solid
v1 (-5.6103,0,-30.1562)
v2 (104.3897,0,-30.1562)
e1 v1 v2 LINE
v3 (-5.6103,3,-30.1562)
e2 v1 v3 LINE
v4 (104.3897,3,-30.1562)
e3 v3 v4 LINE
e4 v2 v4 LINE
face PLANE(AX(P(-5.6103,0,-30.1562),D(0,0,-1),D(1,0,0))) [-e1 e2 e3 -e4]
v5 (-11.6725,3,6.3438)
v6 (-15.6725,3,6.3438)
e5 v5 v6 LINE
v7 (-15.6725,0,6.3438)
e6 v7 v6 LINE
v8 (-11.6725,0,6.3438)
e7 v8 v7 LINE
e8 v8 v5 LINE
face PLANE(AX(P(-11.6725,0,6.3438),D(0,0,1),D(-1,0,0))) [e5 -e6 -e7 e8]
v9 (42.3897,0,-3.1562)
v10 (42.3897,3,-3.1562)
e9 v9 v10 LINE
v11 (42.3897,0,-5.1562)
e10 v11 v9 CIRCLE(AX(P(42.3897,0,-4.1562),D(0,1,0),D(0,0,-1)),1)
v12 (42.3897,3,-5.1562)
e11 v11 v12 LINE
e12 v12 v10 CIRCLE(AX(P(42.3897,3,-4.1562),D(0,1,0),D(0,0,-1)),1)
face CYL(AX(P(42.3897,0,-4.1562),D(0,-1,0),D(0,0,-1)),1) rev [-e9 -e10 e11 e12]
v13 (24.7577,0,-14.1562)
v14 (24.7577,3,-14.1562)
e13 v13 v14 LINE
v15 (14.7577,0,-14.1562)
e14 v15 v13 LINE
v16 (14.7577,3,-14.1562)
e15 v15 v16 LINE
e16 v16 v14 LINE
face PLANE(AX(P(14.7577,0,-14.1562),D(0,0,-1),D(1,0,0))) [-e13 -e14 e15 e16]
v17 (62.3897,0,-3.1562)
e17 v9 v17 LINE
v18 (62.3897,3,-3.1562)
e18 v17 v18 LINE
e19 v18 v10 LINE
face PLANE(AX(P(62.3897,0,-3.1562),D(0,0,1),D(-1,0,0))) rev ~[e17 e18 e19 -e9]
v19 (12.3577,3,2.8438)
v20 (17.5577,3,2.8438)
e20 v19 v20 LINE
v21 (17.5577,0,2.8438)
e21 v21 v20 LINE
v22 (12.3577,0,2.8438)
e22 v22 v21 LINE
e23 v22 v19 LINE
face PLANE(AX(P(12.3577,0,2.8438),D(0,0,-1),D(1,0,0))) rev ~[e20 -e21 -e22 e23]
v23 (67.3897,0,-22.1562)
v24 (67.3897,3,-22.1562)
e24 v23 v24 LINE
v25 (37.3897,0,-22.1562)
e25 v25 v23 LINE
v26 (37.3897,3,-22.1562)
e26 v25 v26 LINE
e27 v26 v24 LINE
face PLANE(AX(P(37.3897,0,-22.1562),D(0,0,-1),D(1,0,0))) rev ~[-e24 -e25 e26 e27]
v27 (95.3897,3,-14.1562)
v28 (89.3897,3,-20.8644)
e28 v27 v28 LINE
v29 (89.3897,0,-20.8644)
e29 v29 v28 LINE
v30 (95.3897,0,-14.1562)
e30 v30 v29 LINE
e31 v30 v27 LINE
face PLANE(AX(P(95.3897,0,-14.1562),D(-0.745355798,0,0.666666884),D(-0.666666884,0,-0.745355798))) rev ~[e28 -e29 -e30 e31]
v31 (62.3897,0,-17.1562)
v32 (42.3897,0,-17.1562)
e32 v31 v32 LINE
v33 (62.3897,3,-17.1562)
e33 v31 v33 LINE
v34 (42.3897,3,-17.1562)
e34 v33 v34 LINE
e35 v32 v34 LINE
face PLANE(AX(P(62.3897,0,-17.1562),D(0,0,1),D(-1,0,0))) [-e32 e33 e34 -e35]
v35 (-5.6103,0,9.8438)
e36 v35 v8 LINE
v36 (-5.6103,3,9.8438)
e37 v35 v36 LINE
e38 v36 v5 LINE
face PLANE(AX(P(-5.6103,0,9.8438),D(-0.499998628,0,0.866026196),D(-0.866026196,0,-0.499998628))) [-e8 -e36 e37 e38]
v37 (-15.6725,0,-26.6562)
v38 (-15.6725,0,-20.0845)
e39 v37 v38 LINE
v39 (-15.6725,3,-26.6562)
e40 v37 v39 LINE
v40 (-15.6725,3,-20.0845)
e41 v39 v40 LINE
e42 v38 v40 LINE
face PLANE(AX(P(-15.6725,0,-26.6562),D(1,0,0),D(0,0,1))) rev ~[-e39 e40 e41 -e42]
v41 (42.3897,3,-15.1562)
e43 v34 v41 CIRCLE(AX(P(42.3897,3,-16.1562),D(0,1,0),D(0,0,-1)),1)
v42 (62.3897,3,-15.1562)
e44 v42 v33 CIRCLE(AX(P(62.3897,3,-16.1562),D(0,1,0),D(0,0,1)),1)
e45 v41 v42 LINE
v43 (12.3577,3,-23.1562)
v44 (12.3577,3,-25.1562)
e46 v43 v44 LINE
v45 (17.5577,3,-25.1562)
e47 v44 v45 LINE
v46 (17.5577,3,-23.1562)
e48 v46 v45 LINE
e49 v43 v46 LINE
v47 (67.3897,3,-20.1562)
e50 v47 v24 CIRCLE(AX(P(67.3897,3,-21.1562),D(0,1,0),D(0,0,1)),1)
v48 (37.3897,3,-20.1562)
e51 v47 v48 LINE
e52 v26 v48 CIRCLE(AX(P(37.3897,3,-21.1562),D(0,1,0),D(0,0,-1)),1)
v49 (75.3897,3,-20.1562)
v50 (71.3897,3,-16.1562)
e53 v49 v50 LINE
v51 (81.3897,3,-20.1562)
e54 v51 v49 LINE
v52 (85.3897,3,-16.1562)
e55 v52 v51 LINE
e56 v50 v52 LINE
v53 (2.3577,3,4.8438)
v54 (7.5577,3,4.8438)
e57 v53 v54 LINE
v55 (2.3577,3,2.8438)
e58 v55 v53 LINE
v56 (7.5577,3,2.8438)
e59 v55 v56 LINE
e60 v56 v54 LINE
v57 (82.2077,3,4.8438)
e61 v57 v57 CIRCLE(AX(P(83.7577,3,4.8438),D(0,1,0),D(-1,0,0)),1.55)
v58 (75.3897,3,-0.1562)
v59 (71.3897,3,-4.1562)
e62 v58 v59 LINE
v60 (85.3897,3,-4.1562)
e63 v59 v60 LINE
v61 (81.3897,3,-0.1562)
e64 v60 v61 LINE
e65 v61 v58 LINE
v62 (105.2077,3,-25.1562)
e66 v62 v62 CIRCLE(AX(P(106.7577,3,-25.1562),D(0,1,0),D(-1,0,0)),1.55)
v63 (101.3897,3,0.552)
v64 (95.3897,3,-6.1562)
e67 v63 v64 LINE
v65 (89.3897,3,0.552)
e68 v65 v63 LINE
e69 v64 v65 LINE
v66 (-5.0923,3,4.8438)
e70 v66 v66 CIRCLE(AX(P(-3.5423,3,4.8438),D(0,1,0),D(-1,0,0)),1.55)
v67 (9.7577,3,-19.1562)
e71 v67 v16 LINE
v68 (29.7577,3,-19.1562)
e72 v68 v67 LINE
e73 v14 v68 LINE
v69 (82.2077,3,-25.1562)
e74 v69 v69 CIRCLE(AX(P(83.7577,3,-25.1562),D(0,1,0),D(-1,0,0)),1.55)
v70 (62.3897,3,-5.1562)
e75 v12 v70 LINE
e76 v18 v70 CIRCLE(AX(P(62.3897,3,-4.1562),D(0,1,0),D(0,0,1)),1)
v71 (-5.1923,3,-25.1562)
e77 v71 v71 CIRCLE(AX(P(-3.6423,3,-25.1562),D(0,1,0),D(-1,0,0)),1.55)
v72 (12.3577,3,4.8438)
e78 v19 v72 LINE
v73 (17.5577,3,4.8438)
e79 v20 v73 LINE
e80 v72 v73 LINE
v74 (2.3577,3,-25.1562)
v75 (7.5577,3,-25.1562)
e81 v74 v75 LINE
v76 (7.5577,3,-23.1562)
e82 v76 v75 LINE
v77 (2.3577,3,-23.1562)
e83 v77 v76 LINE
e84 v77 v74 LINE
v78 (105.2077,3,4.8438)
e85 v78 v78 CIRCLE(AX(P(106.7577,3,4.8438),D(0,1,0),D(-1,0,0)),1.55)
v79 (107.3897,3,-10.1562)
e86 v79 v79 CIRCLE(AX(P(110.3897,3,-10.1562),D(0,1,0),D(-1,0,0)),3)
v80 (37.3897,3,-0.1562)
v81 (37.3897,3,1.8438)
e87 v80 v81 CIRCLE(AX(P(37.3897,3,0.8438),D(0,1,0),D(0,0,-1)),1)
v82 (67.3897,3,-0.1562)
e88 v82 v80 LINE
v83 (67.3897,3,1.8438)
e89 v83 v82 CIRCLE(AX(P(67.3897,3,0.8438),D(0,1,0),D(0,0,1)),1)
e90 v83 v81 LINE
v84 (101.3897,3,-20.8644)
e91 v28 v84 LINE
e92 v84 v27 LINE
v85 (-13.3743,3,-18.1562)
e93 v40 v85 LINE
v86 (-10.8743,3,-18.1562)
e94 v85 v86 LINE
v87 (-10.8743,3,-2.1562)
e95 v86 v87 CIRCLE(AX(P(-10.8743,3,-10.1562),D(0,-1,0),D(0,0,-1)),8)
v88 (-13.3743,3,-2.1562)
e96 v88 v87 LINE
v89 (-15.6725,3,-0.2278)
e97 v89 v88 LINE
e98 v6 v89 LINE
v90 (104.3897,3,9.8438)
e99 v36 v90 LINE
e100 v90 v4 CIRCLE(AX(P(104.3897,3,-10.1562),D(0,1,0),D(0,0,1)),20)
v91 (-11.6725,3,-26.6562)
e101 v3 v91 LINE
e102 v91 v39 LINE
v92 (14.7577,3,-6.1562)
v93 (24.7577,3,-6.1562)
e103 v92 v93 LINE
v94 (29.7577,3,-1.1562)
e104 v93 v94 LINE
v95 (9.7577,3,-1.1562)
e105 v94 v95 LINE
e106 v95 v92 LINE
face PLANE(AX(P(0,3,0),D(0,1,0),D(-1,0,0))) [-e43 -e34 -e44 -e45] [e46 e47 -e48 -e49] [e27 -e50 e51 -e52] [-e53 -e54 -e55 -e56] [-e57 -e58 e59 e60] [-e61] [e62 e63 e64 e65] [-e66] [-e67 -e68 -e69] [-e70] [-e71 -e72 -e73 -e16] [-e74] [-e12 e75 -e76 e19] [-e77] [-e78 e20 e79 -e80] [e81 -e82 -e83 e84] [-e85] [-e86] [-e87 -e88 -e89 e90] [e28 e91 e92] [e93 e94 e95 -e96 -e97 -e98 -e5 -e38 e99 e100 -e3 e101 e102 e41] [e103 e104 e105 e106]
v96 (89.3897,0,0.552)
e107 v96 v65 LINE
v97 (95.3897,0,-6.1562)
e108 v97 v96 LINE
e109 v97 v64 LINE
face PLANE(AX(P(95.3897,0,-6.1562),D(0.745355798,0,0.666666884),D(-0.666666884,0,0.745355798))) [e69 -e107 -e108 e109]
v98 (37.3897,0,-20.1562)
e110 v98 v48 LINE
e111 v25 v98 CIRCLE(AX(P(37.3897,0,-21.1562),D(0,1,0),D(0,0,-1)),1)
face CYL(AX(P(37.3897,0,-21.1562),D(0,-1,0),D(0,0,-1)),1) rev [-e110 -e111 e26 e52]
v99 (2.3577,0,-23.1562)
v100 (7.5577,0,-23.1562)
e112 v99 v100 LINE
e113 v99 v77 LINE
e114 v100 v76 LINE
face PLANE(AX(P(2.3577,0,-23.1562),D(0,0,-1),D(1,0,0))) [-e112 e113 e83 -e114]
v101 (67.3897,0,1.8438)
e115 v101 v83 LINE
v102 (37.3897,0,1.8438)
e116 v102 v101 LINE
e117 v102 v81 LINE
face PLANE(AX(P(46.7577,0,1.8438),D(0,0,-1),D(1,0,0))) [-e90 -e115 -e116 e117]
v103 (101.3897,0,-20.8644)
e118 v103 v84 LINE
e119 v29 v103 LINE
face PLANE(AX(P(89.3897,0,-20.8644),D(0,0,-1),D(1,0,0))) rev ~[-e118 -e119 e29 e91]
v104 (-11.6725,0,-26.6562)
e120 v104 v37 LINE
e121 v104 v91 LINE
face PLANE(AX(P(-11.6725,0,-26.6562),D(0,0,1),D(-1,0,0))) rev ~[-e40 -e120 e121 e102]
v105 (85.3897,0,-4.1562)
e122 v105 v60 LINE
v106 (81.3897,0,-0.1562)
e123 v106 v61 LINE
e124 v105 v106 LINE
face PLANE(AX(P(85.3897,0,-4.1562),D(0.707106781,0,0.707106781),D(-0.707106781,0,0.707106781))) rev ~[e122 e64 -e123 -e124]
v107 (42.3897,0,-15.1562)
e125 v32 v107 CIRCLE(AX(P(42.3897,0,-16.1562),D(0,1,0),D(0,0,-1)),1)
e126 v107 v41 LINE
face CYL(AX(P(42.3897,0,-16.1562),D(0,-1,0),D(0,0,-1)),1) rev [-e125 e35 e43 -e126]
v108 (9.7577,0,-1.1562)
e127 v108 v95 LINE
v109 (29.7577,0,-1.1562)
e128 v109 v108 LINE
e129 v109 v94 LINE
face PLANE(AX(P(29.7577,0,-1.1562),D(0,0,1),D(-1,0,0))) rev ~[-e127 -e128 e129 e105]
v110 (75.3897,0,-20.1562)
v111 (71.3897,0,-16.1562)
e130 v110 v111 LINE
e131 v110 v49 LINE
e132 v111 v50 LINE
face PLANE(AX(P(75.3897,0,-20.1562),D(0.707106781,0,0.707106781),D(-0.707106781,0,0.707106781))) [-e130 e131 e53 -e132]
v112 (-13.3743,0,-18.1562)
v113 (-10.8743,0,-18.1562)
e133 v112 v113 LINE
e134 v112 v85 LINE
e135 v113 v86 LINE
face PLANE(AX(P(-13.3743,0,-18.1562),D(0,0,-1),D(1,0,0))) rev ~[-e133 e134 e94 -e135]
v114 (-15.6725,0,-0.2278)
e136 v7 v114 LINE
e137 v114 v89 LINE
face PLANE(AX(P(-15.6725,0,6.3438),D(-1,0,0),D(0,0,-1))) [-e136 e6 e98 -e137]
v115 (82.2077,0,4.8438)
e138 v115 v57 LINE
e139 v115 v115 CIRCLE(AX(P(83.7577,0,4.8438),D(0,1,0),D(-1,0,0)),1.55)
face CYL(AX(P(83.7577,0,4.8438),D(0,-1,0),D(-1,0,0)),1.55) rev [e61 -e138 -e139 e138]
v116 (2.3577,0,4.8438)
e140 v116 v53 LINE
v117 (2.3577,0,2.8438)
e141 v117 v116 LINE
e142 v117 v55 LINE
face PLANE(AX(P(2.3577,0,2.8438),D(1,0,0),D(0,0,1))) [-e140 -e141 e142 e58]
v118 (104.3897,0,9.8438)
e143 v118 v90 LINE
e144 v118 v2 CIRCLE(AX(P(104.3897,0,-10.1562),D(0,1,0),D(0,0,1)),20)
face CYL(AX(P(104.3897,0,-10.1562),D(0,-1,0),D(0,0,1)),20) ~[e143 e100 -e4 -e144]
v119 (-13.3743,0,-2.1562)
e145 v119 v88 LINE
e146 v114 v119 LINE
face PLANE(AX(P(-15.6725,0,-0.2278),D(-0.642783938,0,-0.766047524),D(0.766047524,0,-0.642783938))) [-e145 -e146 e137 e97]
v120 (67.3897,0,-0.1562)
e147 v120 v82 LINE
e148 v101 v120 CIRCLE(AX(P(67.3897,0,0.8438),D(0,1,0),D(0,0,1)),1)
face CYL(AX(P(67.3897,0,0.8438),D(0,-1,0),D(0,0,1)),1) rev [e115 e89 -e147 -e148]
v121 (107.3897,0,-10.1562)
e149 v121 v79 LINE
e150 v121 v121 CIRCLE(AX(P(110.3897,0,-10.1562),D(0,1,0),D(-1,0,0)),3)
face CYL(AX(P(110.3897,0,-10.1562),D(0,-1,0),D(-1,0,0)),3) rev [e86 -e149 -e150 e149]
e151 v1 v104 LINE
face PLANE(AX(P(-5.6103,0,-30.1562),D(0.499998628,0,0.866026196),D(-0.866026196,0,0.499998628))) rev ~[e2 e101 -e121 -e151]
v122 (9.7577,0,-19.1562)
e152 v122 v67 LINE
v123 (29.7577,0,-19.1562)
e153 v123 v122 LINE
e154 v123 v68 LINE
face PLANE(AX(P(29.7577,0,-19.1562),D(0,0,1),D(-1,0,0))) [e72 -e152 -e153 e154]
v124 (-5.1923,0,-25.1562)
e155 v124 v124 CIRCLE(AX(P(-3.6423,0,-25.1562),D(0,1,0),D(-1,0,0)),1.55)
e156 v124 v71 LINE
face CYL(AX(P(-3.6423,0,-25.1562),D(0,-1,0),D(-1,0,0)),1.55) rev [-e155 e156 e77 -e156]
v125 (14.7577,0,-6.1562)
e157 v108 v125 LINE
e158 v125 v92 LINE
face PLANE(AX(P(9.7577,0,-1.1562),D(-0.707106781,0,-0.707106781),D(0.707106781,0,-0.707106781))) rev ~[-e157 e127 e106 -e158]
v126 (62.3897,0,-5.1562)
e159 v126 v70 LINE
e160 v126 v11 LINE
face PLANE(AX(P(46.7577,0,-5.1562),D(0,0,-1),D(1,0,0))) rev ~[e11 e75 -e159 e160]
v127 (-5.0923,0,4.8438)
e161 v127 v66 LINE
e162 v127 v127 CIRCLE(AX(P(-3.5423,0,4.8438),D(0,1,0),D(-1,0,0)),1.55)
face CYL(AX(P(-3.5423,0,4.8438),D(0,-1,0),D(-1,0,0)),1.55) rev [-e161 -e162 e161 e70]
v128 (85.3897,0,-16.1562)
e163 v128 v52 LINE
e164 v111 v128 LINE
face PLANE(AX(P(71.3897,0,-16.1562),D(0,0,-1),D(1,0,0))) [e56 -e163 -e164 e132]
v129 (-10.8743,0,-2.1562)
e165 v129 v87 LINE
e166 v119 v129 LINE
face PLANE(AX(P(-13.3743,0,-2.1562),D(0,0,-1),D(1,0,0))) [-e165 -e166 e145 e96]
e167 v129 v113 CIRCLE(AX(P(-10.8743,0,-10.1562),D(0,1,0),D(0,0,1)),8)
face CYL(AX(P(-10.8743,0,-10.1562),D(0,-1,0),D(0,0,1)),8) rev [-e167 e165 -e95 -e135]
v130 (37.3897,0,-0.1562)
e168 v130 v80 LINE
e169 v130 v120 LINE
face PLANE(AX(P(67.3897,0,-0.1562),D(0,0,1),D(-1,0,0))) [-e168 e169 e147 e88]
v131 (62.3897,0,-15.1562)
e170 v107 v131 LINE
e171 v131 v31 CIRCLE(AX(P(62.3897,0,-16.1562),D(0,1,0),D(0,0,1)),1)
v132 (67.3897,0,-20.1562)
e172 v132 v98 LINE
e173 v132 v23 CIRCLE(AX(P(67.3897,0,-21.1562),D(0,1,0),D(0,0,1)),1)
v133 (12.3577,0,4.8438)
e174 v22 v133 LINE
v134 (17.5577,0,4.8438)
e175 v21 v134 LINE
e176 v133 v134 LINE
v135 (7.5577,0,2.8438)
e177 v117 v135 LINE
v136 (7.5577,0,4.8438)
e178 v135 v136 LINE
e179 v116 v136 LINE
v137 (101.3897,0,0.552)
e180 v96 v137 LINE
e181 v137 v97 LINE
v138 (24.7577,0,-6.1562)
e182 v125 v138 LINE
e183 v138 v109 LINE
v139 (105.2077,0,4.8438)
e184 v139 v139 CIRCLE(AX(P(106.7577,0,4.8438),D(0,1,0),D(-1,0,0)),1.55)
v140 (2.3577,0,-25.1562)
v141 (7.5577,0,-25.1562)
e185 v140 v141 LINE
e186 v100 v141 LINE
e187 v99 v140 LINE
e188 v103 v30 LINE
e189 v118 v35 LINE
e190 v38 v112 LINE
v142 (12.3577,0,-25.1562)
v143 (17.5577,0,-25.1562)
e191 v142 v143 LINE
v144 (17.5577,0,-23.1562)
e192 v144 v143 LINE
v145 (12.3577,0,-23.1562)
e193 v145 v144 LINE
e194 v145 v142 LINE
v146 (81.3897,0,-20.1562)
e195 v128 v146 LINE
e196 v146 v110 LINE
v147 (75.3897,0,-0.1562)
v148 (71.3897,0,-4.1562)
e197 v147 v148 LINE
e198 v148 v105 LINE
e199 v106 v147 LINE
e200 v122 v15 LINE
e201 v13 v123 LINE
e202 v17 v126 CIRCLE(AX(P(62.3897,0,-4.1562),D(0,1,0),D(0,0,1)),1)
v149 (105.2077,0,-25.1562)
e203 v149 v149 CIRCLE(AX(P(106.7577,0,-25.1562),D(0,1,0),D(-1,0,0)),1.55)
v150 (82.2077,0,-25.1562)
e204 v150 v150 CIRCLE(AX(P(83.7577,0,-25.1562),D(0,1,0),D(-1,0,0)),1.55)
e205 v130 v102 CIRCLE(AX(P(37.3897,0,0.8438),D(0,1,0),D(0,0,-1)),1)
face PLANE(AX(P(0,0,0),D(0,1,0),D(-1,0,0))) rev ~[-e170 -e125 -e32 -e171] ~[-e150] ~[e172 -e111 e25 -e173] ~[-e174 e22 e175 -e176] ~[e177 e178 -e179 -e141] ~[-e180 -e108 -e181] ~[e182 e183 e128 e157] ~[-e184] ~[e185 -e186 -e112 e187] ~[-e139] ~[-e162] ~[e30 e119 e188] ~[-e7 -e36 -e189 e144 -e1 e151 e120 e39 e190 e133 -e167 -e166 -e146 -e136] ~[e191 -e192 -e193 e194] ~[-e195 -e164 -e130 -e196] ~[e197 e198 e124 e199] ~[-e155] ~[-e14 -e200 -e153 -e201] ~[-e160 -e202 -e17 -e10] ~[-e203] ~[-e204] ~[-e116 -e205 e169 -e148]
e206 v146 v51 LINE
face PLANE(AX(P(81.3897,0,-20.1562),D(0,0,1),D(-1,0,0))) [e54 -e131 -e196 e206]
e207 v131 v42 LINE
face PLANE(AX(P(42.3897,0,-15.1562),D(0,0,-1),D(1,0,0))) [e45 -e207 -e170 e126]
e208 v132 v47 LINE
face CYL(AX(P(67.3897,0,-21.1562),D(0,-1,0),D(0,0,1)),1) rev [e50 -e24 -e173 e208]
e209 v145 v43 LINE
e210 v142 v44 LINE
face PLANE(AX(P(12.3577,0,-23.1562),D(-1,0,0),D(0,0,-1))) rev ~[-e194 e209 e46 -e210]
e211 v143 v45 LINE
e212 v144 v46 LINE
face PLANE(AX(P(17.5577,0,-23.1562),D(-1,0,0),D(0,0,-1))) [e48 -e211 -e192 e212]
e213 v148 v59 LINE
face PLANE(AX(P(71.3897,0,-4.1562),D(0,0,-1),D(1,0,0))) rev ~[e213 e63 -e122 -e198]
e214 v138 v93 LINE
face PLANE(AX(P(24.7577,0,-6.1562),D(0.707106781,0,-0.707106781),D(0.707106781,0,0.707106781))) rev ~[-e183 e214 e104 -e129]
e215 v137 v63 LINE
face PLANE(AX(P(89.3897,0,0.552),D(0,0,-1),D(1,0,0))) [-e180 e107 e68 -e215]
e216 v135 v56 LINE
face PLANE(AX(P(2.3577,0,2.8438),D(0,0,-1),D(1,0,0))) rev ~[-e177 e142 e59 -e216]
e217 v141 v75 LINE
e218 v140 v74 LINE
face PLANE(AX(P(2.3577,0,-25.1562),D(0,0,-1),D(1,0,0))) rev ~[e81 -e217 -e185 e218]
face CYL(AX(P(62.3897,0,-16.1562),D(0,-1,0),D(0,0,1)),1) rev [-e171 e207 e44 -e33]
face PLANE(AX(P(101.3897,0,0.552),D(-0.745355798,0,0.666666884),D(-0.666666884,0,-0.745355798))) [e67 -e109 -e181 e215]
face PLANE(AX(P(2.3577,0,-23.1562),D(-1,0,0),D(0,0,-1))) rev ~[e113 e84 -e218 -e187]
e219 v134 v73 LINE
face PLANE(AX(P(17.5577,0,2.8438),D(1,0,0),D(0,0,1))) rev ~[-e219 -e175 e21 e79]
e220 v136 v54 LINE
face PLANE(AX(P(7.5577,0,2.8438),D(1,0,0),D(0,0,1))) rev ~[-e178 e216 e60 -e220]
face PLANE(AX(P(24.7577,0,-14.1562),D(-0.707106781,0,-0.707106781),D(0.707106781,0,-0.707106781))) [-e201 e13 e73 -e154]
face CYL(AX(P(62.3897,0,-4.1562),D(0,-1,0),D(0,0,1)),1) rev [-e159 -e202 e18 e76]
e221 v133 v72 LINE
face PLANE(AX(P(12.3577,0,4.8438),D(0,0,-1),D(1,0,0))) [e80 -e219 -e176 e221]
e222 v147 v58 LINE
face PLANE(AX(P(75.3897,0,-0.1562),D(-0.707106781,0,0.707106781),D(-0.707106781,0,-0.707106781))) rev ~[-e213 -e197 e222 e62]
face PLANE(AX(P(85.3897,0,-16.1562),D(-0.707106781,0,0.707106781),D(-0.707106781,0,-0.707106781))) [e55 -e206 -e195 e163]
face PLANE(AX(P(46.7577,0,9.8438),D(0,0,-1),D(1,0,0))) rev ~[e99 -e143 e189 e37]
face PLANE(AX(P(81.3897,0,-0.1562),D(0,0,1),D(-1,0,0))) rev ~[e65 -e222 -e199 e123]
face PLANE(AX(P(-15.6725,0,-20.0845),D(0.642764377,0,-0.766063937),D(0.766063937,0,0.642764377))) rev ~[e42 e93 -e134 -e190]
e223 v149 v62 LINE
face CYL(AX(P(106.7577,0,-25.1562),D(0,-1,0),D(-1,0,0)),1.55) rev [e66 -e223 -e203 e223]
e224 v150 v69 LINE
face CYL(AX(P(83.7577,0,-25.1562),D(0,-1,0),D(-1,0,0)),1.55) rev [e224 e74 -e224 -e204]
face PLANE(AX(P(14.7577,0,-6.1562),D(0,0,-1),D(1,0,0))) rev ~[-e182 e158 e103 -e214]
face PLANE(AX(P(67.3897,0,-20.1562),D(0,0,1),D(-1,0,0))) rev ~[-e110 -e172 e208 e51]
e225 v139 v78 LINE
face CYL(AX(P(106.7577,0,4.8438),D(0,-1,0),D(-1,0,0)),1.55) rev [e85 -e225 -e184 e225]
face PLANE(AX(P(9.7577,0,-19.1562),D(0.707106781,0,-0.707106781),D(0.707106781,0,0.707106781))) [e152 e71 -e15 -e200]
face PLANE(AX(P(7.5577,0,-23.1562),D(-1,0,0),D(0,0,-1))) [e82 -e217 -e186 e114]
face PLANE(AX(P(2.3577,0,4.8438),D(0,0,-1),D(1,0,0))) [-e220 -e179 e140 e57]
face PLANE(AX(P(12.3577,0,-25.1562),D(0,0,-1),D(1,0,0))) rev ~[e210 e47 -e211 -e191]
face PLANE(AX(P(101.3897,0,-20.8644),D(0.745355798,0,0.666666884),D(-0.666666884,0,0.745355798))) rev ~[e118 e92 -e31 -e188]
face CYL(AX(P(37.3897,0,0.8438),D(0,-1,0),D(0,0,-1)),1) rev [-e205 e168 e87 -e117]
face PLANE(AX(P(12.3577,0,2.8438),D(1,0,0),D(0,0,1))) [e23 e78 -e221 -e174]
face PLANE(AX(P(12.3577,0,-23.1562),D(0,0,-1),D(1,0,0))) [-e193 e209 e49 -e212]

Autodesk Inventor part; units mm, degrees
ref_plane "YZ Plane" through (0, 0, 0) normal (1, 0, 0) x (0, 1, 0)
ref_plane "XZ Plane" through (0, 0, 0) normal (0, 1, 0) x (-1, 0, 0)
ref_plane "XY Plane" through (0, 0, 0) normal (0, 0, 1) x (1, 0, 0)
sketch "Sketch1" plane through (0, 0, 0) normal (0, 1, 0) x (-1, 0, 0)
  line L0 (-71.934, -191.4381) -> (-71.9231, -191.4456)
  line L1 (19.6087, -153.4475) -> (19.6065, -153.4456)
  line L2 (-67.3897, -0.1562) -> (-37.3897, -0.1562)
  line L3 (-37.3897, 1.8438) -> (-67.3897, 1.8438)
  line L4 (-62.3897, -3.1562) -> (-42.3897, -3.1562)
  line L5 (-42.3897, -5.1562) -> (-62.3897, -5.1562)
  line L6 (-113.9275, -186.1817) -> (-113.9275, -186.2664)
  line L7 (-115.4443, -311.1974) -> (-115.4443, -311.1982)
  line L8 (-113.9275, -180.4456) -> (-113.9275, -180.5089)
  circle A0 centre (-110.3897, -10.1562) radius 3
  arc A1 (10.8743, -2.1562) -> (10.8743, -18.1562) centre (10.8743, -10.1562) ccw
  arc A2 (-42.3897, -5.1562) -> (-42.3897, -3.1562) centre (-42.3897, -4.1562) ccw
  arc A3 (-62.3897, -3.1562) -> (-62.3897, -5.1562) centre (-62.3897, -4.1562) ccw
  arc A4 (-67.3897, 1.8438) -> (-67.3897, -0.1562) centre (-67.3897, 0.8438) ccw
  arc A5 (-37.3897, -0.1562) -> (-37.3897, 1.8438) centre (-37.3897, 0.8438) ccw
  arc A6 (-104.3897, 9.8438) -> (-104.3897, -30.1562) centre (-104.3897, -10.1562) ccw
  line L9 (5.6103, 9.8438) -> (11.6725, 6.3438)
  line L10 (11.6725, 6.3438) -> (15.6725, 6.3438)
  line L11 (15.6725, 6.3438) -> (15.6725, -0.2278)
  line L12 (15.6725, -0.2278) -> (13.3743, -2.1562)
  line L13 (13.3743, -2.1562) -> (10.8743, -2.1562)
  line L14 (5.6103, 9.8438) -> (-104.3897, 9.8438)
  line L15 (-89.3897, 0.552) -> (-101.3897, 0.552)
  line L16 (-101.3897, 0.552) -> (-95.3897, -6.1562)
  line L17 (-95.3897, -6.1562) -> (-89.3897, 0.552)
  line L18 (-85.3897, -4.1562) -> (-81.3897, -0.1562)
  line L19 (-75.3897, -0.1562) -> (-71.3897, -4.1562)
  line L20 (-71.3897, -4.1562) -> (-85.3897, -4.1562)
  line L21 (-81.3897, -0.1562) -> (-75.3897, -0.1562)
  line L22 (-68.2196, -182.5089) -> (-68.232, -182.5206)
  line L23 (-104.3897, 9.8438) -> (-104.3897, -30.1562)
  line L24 (-104.3897, -10.1562) -> (10.8743, -10.1562)
  line L25 (-110.3897, -10.1562) -> (-104.3897, -10.1562)
  line L26 (10.8743, -2.1562) -> (10.8743, -18.1562)
  line L27 (5.6103, -30.1562) -> (11.6725, -26.6562)
  line L28 (11.6725, -26.6562) -> (15.6725, -26.6562)
  line L29 (15.6725, -26.6562) -> (15.6725, -20.0845)
  line L30 (15.6725, -20.0845) -> (13.3743, -18.1562)
  line L31 (13.3743, -18.1562) -> (10.8743, -18.1562)
  line L32 (5.6103, -30.1562) -> (-104.3897, -30.1562)
  line L33 (-2.3577, 2.8438) -> (-7.5577, 2.8438)
  line L34 (-7.5577, 2.8438) -> (-7.5577, 4.8438)
  line L35 (-2.3577, 4.8438) -> (-7.5577, 4.8438)
  line L36 (-2.3577, 2.8438) -> (-2.3577, 4.8438)
  line L37 (-12.3577, 2.8438) -> (-17.5577, 2.8438)
  line L38 (-17.5577, 2.8438) -> (-17.5577, 4.8438)
  line L39 (-12.3577, 4.8438) -> (-17.5577, 4.8438)
  line L40 (-12.3577, 2.8438) -> (-12.3577, 4.8438)
  line L41 (-46.7577, -10.1562) -> (-46.7577, 9.8438)
  line L42 (-2.3577, -23.1562) -> (-7.5577, -23.1562)
  line L43 (-7.5577, -23.1562) -> (-7.5577, -25.1562)
  line L44 (-2.3577, -25.1562) -> (-7.5577, -25.1562)
  line L45 (-2.3577, -23.1562) -> (-2.3577, -25.1562)
  line L46 (-12.3577, -23.1562) -> (-17.5577, -23.1562)
  line L47 (-17.5577, -23.1562) -> (-17.5577, -25.1562)
  line L48 (-12.3577, -25.1562) -> (-17.5577, -25.1562)
  line L49 (-12.3577, -23.1562) -> (-12.3577, -25.1562)
  circle A7 centre (3.6423, -25.1562) radius 1.55
  circle A8 centre (3.5423, 4.8438) radius 1.55
  circle A9 centre (-83.7577, 4.8438) radius 1.55
  circle A10 centre (-106.7577, 4.8438) radius 1.55
  circle A11 centre (-83.7577, -25.1562) radius 1.55
  circle A12 centre (-106.7577, -25.1562) radius 1.55
  line L50 (-62.3897, -17.1562) -> (-42.3897, -17.1562)
  line L51 (-42.3897, -15.1562) -> (-62.3897, -15.1562)
  line L52 (-67.3897, -20.1562) -> (-37.3897, -20.1562)
  line L53 (-37.3897, -22.1562) -> (-67.3897, -22.1562)
  arc A13 (-42.3897, -17.1562) -> (-42.3897, -15.1562) centre (-42.3897, -16.1562) ccw
  arc A14 (-62.3897, -15.1562) -> (-62.3897, -17.1562) centre (-62.3897, -16.1562) ccw
  arc A15 (-67.3897, -20.1562) -> (-67.3897, -22.1562) centre (-67.3897, -21.1562) ccw
  arc A16 (-37.3897, -22.1562) -> (-37.3897, -20.1562) centre (-37.3897, -21.1562) ccw
  line L54 (-89.3897, -20.8644) -> (-101.3897, -20.8644)
  line L55 (-101.3897, -20.8644) -> (-95.3897, -14.1562)
  line L56 (-95.3897, -14.1562) -> (-89.3897, -20.8644)
  line L57 (-85.3897, -16.1562) -> (-81.3897, -20.1562)
  line L58 (-75.3897, -20.1562) -> (-71.3897, -16.1562)
  line L59 (-71.3897, -16.1562) -> (-85.3897, -16.1562)
  line L60 (-81.3897, -20.1562) -> (-75.3897, -20.1562)
  line L61 (-29.7577, -1.1562) -> (-9.7577, -1.1562)
  line L62 (-9.7577, -1.1562) -> (-14.7577, -6.1562)
  line L63 (-14.7577, -6.1562) -> (-24.7577, -6.1562)
  line L64 (-24.7577, -6.1562) -> (-29.7577, -1.1562)
  line L65 (-29.7577, -19.1562) -> (-9.7577, -19.1562)
  line L66 (-9.7577, -19.1562) -> (-14.7577, -14.1562)
  line L67 (-14.7577, -14.1562) -> (-24.7577, -14.1562)
  line L68 (-24.7577, -14.1562) -> (-29.7577, -19.1562)
  dimension "d39" = 6
  dimension "d54" = 40
  dimension "d55" = 6
  dimension "d56" = 20
  dimension "d58" = 110
  dimension "d60" = 150
  dimension "d61" = 130
  dimension "d62" = 4
  dimension "d63" = 2.5
  dimension "d64" = 7
  dimension "d65" = 3
  dimension "d70" = 8
  dimension "d74" = 2
  dimension "d75" = 5.2
  dimension "d76" = 2
  dimension "d77" = 5.2
  dimension "d78" = 4.8
  dimension "d79" = 13
  dimension "d80" = 13
  dimension "d81" = 29.2
  dimension "d82" = 3.1
  dimension "d83" = 3.1
  dimension "d84" = 5.9
  dimension "d85" = 6
  dimension "d86" = 15
  dimension "d87" = 15
  dimension "d88" = 3.1
  dimension "d89" = 3.1
  dimension "d90" = 15
  dimension "d91" = 15
  dimension "d92" = 37
  dimension "d93" = 23
  dimension "d94" = 12
  dimension "d95" = 9
  dimension "d96" = 14
  dimension "d97" = 6
  dimension "d99" = 4
  dimension "d100" = 9
  dimension "d101" = 6
  dimension "d102" = 10
  dimension "d103" = 2
  dimension "d104" = 20
  dimension "d105" = 2
  dimension "d106" = 5
  dimension "d108" = 30
  dimension "d109" = 10
  dimension "d110" = 42
  dimension "d111" = 5
  dimension "d112" = 20
  dimension "d113" = 10
  dimension "d114" = 45
  dimension "d115" = 4
  dimension "d116" = 22
extrude "Extrusion1" add sketch "Sketch1" along normal blind 3 contours L2 L41 L4 A3 L5 L24 L23 L14 L3 A4 | L2 A5 L3 L41 L14 L9 L10 L11 L12 L13 A1 L24 L5 A2 L4 | L24 A1 L31 L30 L29 L28 L27 L32 L23 | L23 A6
properties part number "topplate.rev4"
